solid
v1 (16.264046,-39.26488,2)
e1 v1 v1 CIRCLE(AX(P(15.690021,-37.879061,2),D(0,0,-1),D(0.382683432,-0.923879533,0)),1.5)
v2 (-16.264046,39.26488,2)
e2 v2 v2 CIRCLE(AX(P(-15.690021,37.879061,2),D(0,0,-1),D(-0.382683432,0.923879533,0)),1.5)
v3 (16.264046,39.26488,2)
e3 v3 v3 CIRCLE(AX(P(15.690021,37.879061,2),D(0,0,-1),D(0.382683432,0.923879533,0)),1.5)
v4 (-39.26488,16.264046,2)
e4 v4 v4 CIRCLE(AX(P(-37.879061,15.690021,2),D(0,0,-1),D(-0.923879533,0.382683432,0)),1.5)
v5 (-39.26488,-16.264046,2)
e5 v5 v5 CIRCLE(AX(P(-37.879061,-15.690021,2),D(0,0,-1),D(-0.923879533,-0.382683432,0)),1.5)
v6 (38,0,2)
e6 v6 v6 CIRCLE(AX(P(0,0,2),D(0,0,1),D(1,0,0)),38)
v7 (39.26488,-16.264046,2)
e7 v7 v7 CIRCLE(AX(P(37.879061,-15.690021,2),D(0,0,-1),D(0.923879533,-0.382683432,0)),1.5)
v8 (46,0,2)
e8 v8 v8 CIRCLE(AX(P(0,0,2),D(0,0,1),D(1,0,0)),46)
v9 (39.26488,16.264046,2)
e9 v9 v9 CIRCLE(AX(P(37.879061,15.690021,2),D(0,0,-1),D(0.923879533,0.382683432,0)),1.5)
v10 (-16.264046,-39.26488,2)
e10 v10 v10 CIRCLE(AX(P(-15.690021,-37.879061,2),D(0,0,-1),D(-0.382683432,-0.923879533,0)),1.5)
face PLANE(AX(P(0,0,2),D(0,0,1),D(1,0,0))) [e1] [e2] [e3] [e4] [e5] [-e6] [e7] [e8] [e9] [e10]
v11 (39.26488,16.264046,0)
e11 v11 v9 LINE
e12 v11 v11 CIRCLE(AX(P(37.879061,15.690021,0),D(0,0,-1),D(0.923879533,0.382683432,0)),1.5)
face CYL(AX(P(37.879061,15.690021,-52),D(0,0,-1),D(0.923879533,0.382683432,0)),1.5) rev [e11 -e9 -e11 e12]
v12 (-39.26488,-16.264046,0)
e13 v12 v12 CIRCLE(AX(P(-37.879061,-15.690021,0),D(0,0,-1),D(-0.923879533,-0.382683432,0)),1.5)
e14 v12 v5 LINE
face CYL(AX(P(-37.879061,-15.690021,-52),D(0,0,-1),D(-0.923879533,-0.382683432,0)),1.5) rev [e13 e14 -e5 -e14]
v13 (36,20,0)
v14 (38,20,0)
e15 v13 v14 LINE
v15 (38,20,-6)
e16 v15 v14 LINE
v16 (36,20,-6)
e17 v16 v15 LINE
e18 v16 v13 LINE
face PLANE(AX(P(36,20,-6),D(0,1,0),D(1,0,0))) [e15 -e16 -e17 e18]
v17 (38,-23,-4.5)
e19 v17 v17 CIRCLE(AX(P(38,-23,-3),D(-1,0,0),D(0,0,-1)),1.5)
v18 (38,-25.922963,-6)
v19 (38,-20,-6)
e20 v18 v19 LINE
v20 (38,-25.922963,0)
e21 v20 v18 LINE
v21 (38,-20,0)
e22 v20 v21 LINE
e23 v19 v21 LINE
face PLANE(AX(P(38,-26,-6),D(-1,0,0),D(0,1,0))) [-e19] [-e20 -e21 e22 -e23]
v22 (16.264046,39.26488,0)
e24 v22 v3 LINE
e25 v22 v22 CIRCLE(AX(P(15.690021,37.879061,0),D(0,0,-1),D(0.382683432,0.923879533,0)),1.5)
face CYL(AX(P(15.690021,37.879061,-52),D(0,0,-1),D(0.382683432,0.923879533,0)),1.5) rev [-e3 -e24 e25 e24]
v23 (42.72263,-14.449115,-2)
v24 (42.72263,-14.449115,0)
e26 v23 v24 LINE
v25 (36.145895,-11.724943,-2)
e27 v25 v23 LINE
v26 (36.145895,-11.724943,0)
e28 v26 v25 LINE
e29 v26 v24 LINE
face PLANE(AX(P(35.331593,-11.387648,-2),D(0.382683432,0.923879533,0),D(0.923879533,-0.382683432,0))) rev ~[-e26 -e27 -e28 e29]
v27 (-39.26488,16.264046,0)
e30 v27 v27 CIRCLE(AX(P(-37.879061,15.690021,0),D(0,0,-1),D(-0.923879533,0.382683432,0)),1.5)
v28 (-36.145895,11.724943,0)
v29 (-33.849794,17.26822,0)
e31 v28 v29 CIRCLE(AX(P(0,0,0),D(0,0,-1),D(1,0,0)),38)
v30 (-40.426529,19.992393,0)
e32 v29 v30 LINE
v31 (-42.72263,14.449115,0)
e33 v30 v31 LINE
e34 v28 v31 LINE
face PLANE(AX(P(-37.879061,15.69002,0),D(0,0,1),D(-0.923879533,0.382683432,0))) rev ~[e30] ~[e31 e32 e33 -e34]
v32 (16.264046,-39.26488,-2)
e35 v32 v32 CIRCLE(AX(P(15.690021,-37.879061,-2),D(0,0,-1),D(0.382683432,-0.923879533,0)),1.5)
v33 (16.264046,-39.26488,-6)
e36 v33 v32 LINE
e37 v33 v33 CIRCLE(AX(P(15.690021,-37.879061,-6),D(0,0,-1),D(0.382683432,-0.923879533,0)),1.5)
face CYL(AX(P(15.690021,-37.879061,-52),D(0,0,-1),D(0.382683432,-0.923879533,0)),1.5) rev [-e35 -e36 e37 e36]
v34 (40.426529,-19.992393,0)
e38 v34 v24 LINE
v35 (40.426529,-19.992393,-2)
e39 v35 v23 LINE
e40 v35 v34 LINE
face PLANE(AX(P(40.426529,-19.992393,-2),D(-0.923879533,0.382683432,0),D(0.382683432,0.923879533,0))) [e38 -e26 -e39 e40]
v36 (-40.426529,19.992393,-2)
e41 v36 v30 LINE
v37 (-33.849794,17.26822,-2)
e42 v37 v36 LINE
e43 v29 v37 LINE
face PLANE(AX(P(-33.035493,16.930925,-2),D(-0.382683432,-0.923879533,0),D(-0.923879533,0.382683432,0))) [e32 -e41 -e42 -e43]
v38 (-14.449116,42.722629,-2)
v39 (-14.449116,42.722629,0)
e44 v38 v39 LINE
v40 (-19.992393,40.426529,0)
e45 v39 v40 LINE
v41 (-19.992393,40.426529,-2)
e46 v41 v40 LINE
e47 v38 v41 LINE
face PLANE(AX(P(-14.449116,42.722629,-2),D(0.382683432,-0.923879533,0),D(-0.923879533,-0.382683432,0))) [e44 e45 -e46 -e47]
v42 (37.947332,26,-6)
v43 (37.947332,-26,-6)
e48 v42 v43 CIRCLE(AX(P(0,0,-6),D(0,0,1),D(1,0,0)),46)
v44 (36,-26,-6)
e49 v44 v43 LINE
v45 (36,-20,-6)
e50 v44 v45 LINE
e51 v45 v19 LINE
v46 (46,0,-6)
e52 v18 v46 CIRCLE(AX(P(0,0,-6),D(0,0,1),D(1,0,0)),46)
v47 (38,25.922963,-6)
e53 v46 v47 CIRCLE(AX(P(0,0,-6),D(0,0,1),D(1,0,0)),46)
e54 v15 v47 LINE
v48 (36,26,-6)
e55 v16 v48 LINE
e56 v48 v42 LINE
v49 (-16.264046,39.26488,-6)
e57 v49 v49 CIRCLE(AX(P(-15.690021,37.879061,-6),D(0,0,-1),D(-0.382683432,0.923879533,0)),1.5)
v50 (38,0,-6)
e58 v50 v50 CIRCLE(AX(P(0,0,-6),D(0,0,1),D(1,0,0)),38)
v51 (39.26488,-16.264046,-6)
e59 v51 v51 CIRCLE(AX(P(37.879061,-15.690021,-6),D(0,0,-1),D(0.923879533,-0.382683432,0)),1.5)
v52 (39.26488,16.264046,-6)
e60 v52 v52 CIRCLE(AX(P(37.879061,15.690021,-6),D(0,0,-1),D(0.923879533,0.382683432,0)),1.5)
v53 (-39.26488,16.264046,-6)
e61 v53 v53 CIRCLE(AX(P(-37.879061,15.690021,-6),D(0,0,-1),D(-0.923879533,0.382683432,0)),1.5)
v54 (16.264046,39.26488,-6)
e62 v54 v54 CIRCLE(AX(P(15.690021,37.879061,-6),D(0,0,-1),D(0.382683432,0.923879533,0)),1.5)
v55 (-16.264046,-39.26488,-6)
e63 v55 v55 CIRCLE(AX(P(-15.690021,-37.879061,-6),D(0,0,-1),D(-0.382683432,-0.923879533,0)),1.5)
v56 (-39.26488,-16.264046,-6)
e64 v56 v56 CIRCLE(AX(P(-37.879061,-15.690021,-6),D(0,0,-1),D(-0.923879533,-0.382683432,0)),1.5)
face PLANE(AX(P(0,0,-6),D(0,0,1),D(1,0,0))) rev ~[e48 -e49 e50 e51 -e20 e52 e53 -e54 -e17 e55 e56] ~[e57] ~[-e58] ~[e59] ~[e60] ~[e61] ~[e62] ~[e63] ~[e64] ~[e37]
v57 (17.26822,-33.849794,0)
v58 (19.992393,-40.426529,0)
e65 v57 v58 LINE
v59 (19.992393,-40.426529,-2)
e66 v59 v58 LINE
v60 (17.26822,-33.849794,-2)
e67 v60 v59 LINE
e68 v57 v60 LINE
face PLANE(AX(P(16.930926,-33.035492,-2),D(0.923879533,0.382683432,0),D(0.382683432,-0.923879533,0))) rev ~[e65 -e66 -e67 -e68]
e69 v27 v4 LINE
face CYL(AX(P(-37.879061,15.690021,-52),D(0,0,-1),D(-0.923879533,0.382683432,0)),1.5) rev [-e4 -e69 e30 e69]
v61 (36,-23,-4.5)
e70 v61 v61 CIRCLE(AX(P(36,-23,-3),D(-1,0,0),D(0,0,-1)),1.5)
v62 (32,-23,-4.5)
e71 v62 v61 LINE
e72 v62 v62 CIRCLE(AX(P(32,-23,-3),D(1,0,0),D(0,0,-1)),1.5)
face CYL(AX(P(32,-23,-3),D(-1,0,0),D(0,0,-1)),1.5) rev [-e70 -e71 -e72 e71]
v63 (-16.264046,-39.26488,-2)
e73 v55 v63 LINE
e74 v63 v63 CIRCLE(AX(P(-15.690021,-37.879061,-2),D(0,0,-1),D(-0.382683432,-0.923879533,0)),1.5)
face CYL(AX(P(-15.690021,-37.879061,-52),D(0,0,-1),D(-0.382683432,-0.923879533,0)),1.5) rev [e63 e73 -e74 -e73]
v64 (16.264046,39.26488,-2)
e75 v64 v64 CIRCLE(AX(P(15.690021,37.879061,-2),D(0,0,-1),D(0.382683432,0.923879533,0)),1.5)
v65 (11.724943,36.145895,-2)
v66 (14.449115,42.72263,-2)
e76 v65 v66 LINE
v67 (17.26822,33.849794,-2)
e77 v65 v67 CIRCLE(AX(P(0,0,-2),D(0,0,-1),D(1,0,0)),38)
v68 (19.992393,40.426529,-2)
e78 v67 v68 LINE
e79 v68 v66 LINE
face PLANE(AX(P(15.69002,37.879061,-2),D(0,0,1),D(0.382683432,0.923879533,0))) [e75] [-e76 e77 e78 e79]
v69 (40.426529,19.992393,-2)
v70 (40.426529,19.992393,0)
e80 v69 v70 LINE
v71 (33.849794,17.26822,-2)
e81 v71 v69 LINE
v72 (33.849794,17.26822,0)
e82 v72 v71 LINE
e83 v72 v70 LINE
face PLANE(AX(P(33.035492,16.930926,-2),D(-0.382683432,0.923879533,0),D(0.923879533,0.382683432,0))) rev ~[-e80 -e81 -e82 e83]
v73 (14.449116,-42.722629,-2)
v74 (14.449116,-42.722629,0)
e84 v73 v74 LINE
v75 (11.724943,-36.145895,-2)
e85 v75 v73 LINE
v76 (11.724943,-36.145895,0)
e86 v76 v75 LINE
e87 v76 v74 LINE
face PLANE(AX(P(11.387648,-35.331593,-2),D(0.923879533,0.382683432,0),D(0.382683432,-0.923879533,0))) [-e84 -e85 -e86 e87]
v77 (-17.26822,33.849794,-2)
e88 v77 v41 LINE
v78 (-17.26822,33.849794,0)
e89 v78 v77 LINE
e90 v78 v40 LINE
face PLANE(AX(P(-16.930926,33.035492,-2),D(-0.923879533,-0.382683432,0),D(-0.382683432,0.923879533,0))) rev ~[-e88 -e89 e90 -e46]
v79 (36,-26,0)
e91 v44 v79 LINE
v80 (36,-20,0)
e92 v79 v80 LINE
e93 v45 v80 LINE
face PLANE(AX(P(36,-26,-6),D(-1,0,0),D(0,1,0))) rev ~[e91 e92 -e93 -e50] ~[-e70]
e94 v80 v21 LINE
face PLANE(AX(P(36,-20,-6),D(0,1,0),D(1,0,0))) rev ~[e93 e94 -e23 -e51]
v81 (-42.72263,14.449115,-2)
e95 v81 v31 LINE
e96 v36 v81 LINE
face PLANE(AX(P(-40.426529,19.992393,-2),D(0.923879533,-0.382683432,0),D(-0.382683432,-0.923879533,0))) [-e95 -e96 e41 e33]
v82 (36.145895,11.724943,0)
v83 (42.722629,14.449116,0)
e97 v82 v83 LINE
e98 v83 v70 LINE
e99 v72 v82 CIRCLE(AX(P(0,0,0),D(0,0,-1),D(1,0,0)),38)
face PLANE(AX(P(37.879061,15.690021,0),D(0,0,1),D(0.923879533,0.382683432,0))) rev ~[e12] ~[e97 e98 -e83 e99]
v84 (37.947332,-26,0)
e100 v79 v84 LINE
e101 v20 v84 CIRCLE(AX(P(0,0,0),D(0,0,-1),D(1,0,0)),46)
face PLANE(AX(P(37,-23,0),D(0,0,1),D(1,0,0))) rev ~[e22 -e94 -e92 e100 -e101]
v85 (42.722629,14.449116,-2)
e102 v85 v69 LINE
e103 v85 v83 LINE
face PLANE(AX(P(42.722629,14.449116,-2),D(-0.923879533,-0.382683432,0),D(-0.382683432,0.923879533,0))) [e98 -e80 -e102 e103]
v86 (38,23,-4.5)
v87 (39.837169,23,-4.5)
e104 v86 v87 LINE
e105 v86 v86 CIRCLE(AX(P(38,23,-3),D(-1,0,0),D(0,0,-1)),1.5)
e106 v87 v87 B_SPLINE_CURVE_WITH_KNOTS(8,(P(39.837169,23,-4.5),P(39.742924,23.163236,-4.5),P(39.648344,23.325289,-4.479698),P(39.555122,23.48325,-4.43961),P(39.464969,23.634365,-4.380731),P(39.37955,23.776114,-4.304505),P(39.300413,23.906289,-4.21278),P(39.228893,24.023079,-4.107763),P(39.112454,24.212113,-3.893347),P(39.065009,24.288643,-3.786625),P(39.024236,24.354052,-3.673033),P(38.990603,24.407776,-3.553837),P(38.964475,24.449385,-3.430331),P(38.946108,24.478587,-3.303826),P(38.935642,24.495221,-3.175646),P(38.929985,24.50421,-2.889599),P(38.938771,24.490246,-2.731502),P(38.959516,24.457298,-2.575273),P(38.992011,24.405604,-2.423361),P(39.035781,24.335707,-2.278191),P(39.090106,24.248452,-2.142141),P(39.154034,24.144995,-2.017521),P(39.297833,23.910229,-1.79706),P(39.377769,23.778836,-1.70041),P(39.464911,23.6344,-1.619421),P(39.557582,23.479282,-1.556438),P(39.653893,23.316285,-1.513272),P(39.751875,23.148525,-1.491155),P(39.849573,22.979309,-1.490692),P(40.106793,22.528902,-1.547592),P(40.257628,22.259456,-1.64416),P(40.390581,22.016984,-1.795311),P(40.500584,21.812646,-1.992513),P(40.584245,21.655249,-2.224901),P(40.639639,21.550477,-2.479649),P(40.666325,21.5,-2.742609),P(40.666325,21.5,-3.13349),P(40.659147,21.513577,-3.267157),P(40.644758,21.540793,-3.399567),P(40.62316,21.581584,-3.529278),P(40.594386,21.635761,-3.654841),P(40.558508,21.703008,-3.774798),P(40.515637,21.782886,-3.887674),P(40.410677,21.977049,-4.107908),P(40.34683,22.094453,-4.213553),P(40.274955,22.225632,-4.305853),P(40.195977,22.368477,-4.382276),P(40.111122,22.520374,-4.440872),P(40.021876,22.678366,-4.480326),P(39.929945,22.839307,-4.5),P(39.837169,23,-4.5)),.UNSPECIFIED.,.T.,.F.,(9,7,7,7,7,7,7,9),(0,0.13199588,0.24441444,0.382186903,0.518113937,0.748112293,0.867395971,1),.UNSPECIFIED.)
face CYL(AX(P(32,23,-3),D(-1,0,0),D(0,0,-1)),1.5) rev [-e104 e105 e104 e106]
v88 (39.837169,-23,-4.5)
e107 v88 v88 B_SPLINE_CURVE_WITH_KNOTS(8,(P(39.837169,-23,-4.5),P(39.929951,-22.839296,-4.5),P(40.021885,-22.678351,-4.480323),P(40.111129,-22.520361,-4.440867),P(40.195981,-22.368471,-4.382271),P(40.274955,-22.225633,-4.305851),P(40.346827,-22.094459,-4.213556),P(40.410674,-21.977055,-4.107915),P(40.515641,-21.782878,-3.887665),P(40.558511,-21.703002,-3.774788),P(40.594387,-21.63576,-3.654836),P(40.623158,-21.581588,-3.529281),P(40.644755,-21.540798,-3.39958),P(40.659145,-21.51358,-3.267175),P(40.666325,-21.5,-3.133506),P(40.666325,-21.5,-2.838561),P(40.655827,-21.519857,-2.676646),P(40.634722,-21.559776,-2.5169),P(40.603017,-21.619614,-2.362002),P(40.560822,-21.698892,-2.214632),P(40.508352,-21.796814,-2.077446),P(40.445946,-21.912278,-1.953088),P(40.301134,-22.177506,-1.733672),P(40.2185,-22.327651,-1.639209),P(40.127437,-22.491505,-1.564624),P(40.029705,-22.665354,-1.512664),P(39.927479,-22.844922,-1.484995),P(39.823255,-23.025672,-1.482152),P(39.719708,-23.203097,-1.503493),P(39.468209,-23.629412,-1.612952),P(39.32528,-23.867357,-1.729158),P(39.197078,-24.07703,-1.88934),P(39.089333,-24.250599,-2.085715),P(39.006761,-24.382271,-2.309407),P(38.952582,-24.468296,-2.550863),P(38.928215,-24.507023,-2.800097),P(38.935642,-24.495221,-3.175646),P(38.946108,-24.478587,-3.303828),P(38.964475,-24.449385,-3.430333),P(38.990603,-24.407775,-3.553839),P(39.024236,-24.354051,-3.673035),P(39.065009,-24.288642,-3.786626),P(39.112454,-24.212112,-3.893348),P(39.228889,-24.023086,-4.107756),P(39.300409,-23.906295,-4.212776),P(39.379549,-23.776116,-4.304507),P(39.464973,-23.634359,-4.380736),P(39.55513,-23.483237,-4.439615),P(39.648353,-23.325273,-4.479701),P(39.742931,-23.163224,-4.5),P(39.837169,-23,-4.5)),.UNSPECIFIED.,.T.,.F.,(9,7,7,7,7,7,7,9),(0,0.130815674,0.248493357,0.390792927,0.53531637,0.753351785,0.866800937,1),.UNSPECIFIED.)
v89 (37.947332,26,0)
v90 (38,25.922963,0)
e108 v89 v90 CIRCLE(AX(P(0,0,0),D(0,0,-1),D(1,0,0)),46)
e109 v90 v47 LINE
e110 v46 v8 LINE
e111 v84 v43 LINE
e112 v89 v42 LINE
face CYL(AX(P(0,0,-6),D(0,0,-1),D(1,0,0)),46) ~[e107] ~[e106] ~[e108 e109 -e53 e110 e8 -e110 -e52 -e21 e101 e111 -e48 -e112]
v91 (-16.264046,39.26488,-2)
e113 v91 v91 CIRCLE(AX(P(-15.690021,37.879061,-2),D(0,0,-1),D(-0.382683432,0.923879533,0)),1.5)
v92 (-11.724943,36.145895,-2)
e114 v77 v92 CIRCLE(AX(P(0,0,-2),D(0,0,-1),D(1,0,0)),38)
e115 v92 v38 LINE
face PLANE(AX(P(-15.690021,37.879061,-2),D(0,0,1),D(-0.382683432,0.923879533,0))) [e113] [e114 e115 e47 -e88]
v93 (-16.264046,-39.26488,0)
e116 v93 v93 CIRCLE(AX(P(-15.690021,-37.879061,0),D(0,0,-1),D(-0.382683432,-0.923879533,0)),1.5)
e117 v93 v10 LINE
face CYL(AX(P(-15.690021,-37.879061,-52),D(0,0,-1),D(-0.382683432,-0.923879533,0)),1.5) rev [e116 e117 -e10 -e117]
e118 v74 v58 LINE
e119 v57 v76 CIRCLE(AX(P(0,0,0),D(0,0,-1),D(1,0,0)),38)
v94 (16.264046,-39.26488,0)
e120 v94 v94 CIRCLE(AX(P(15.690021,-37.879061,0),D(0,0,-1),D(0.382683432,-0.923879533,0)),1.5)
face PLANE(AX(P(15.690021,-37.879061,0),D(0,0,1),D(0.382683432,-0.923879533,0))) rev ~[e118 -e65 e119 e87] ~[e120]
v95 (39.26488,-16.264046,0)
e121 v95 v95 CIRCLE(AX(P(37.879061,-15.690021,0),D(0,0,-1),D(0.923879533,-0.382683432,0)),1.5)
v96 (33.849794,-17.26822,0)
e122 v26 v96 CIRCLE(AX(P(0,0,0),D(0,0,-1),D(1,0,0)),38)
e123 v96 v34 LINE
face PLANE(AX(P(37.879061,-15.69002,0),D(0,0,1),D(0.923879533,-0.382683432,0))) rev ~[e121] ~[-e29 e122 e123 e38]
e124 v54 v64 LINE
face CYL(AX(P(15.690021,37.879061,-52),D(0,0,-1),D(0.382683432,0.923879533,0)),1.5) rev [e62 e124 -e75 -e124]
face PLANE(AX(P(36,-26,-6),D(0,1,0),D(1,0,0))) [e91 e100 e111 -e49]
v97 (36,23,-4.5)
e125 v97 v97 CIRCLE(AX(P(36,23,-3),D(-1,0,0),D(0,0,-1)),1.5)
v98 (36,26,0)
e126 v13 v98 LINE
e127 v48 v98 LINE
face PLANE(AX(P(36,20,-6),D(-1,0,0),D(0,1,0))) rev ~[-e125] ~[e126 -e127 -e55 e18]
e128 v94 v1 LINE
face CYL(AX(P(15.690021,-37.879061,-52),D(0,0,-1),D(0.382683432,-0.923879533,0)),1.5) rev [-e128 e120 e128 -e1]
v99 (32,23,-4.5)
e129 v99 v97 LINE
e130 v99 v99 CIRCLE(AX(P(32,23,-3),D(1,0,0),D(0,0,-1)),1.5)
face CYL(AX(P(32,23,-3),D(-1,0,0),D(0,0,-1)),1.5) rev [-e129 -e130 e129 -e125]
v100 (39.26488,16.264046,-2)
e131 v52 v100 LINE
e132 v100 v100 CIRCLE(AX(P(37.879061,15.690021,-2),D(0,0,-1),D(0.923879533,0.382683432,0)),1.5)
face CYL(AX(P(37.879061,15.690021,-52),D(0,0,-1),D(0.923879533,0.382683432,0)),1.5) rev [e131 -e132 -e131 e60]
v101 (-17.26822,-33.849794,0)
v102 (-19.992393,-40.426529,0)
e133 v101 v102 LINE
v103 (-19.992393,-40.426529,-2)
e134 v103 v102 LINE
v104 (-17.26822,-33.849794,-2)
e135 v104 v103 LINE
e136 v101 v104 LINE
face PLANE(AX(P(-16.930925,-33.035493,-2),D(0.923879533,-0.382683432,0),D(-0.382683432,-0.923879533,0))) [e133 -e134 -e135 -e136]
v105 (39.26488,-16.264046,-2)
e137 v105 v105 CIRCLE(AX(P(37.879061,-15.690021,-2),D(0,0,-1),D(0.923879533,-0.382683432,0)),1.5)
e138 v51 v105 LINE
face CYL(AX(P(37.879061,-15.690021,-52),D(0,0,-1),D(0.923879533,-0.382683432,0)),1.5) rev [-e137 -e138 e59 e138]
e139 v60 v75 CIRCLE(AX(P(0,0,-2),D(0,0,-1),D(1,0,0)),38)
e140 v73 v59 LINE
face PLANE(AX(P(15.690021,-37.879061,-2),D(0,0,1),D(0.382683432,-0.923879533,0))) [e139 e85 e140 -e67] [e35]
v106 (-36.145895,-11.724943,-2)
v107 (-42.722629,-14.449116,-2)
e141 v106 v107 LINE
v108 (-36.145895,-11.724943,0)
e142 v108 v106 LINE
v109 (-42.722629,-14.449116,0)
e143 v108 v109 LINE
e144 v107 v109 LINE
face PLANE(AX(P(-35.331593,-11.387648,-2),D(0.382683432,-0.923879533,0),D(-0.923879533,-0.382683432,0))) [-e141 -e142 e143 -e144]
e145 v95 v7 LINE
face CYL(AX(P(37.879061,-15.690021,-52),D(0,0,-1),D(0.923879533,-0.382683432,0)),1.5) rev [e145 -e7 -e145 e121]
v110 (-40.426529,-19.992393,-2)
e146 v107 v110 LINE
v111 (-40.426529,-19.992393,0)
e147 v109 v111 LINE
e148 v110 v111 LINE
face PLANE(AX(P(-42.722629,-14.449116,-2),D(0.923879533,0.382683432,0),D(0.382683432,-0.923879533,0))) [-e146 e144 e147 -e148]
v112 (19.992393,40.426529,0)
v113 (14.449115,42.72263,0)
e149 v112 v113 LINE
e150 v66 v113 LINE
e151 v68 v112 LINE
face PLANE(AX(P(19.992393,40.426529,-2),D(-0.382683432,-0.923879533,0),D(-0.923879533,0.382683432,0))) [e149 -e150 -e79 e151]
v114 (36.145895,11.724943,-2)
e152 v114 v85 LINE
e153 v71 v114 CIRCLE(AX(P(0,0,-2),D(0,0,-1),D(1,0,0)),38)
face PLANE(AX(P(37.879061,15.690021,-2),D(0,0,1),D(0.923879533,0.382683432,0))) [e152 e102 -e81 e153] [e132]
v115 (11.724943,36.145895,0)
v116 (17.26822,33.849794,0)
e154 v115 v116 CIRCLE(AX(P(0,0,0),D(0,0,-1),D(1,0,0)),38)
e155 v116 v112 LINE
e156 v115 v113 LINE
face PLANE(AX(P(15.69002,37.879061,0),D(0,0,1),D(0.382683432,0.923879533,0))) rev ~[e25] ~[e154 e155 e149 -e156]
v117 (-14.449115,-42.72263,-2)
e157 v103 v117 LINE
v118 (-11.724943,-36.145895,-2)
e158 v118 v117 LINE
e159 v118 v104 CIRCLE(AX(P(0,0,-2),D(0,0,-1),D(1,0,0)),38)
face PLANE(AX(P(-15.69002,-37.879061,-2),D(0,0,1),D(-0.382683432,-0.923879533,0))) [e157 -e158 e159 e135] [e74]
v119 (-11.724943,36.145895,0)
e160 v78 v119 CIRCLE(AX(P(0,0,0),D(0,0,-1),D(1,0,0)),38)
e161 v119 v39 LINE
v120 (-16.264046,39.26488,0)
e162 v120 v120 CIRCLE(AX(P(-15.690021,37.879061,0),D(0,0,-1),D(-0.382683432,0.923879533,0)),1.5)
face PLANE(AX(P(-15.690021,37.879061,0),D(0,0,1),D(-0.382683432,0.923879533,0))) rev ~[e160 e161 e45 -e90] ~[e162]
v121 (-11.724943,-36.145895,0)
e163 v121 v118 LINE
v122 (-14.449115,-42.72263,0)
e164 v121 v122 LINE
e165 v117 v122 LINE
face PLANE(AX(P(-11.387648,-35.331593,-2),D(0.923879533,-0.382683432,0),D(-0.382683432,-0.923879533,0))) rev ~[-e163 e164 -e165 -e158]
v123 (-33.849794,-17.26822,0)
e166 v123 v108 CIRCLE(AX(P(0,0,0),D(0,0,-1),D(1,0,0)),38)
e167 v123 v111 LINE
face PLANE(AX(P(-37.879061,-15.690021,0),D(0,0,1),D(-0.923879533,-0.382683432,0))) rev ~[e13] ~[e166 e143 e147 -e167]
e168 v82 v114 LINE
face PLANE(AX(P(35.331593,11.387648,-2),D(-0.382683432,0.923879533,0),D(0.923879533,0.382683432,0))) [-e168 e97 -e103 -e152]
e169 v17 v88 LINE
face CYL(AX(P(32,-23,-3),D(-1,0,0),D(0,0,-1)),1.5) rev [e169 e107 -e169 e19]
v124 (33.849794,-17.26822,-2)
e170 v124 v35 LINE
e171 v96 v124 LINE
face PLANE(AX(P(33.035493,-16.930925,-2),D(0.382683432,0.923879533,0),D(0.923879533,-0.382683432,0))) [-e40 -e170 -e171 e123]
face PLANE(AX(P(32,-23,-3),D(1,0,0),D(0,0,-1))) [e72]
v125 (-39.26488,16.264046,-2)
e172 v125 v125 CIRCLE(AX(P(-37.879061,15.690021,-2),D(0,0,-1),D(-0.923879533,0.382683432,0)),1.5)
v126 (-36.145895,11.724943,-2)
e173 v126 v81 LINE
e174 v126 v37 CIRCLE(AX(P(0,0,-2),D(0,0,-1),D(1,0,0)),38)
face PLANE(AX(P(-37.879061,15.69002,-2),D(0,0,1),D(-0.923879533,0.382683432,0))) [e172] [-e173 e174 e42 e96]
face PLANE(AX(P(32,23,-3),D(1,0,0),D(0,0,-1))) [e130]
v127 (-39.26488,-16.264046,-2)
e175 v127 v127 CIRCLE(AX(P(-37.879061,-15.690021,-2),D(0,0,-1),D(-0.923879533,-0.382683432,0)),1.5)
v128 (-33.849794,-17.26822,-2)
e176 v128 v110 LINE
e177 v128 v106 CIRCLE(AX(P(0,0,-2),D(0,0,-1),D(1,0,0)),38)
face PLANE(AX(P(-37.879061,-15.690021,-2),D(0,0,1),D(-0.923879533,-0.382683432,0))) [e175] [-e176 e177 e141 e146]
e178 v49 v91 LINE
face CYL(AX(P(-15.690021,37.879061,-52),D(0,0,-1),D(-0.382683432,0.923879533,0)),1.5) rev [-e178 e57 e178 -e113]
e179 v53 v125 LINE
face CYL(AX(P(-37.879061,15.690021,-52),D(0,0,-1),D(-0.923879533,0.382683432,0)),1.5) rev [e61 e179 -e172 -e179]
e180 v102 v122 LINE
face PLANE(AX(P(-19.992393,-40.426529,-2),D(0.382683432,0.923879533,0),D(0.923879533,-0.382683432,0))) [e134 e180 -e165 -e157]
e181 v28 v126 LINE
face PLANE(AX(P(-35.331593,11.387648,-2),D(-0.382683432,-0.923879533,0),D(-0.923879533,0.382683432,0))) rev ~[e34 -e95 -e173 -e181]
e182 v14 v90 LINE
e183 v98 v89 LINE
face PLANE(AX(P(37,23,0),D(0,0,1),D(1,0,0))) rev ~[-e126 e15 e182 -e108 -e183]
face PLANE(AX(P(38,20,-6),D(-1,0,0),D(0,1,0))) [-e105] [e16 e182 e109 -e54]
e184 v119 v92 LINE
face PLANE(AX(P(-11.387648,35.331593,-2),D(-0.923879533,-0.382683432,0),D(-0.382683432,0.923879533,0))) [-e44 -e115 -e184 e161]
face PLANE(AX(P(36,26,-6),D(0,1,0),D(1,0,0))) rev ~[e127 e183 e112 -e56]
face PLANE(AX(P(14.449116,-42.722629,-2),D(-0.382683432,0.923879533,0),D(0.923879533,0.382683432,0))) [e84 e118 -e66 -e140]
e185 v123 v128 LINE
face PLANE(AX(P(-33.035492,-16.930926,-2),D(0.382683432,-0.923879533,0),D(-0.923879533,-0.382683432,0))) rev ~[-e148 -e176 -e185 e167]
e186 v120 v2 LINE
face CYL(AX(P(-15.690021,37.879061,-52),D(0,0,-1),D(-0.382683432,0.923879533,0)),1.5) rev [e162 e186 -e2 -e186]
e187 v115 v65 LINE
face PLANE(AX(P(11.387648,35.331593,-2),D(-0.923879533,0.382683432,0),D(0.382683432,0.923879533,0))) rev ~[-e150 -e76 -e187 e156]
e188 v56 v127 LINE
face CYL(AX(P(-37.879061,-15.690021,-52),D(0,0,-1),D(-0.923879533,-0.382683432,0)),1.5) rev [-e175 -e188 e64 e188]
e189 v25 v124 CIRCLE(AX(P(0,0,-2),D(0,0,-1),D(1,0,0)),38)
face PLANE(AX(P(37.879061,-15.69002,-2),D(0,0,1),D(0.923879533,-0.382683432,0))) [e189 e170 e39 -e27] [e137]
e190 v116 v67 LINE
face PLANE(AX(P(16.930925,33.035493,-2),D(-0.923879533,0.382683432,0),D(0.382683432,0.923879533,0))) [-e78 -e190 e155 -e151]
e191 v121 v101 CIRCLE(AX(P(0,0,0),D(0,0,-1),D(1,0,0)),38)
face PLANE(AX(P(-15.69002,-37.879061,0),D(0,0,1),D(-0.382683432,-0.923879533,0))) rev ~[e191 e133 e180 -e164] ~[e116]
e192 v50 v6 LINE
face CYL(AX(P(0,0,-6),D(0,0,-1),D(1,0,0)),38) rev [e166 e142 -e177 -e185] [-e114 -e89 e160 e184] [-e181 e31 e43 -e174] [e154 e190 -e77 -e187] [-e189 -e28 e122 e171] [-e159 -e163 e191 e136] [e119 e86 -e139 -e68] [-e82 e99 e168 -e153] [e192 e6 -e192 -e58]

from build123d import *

# Parameters (mm, degrees)
CYLINDER1274_R               = 1.5
CYLINDER1274_DEPTH           = 60
CYLINDER1276_R               = 1.5
CYLINDER1276_DEPTH           = 60
CYLINDER1273_R               = 1.5
CYLINDER1273_DEPTH           = 60
CYLINDER1275_R               = 1.5
CYLINDER1275_DEPTH           = 60
BOX543_W                     = 2
BOX543_H                     = 6
BOX543_DEPTH                 = 6
BOX542_W                     = 2
BOX542_H                     = 6
BOX542_DEPTH                 = 6
BOX541_W                     = 2
BOX541_H                     = 6
BOX541_DEPTH                 = 6
BOX540_W                     = 2
BOX540_H                     = 6
BOX540_DEPTH                 = 6
BOX533_W                     = 8
BOX533_H                     = 6
BOX533_DEPTH                 = 2
BOX539_W                     = 8
BOX539_H                     = 6
BOX539_DEPTH                 = 2
BOX539_PLACEMENT_ANGLE       = 135
BOX534_W                     = 8
BOX534_H                     = 6
BOX534_DEPTH                 = 2
BOX536_W                     = 8
BOX536_H                     = 6
BOX536_DEPTH                 = 2
BOX536_PLACEMENT_ANGLE       = 225
BOX537_W                     = 8
BOX537_H                     = 6
BOX537_DEPTH                 = 2
BOX538_W                     = 8
BOX538_H                     = 6
BOX538_DEPTH                 = 2
BOX538_PLACEMENT_ANGLE       = 45
BOX532_W                     = 8
BOX532_H                     = 6
BOX532_DEPTH                 = 2
BOX535_W                     = 8
BOX535_H                     = 6
BOX535_DEPTH                 = 2
BOX535_PLACEMENT_ANGLE       = 45
COMPOUND921_PLACEMENT_ANGLE  = 22.5
CYLINDER1272_R               = 1.5
CYLINDER1272_DEPTH           = 60
CYLINDER1271_R               = 1.5
CYLINDER1271_DEPTH           = 60
CYLINDER1271_PLACEMENT_ANGLE = 135
CYLINDER1266_R               = 1.5
CYLINDER1266_DEPTH           = 60
CYLINDER1267_R               = 1.5
CYLINDER1267_DEPTH           = 60
CYLINDER1267_PLACEMENT_ANGLE = 225
CYLINDER1270_R               = 1.5
CYLINDER1270_DEPTH           = 60
CYLINDER1268_R               = 1.5
CYLINDER1268_DEPTH           = 60
CYLINDER1268_PLACEMENT_ANGLE = 45
CYLINDER1265_R               = 1.5
CYLINDER1265_DEPTH           = 60
CYLINDER1269_R               = 1.5
CYLINDER1269_DEPTH           = 60
CYLINDER1269_PLACEMENT_ANGLE = 45
COMPOUND919_PLACEMENT_ANGLE  = 22.5
TUBE112_R                    = 46
TUBE112_R_2                  = 38
TUBE112_DEPTH                = 8


with BuildPart() as v_lec1274:
    # Cylinder1274 → Cylinder1274 (new body)
    with BuildSketch(Plane(origin=(32, -23, -5), x_dir=(0, 0, -1), z_dir=(1, 0, 0))):
        Circle(CYLINDER1274_R)
    extrude(amount=CYLINDER1274_DEPTH)


with BuildPart() as v_lec1276:
    # Cylinder1276 → Cylinder1276 (new body)
    with BuildSketch(Plane(origin=(28, 51, 7), x_dir=(0, 0, -1), z_dir=(1, 0, 0))):
        Circle(CYLINDER1276_R)
    extrude(amount=CYLINDER1276_DEPTH)


with BuildPart() as v_lec1273:
    # Cylinder1273 → Cylinder1273 (new body)
    with BuildSketch(Plane(origin=(28, -51, 7), x_dir=(0, 0, -1), z_dir=(1, 0, 0))):
        Circle(CYLINDER1273_R)
    extrude(amount=CYLINDER1273_DEPTH)


with BuildPart() as compound920:
    # Cylinder1275 → Cylinder1275 (new body)
    with BuildSketch(Plane(origin=(32, 23, -5), x_dir=(0, 0, -1), z_dir=(1, 0, 0))):
        Circle(CYLINDER1275_R)
    extrude(amount=CYLINDER1275_DEPTH)

    # Compound920: union Válec1274, Válec1276, Válec1273
    add(v_lec1274.part)
    add(v_lec1276.part)
    add(v_lec1273.part)


with BuildPart() as krychle543:
    # Box543 → Box543 (new body)
    with BuildSketch(Plane(origin=(36, -26, -8), x_dir=(1, 0, 0), z_dir=(0, 0, 1))):
        with Locations((1, 3)):
            Rectangle(BOX543_W, BOX543_H)
    extrude(amount=BOX543_DEPTH)


with BuildPart() as krychle542:
    # Box542 → Box542 (new body)
    with BuildSketch(Plane(origin=(32, 48, 4), x_dir=(1, 0, 0), z_dir=(0, 0, 1))):
        with Locations((1, 3)):
            Rectangle(BOX542_W, BOX542_H)
    extrude(amount=BOX542_DEPTH)


with BuildPart() as krychle541:
    # Box541 → Box541 (new body)
    with BuildSketch(Plane(origin=(32, -54, 4), x_dir=(1, 0, 0), z_dir=(0, 0, 1))):
        with Locations((1, 3)):
            Rectangle(BOX541_W, BOX541_H)
    extrude(amount=BOX541_DEPTH)


with BuildPart() as compound922:
    # Box540 → Box540 (new body)
    with BuildSketch(Plane(origin=(36, 20, -8), x_dir=(1, 0, 0), z_dir=(0, 0, 1))):
        with Locations((1, 3)):
            Rectangle(BOX540_W, BOX540_H)
    extrude(amount=BOX540_DEPTH)

    # Compound922: union Krychle543, Krychle542, Krychle541
    add(krychle543.part)
    add(krychle542.part)
    add(krychle541.part)


with BuildPart() as krychle533:
    # Box533 → Box533 (new body)
    with BuildSketch(Plane(origin=(3, 37, -4), x_dir=(0, 1, 0), z_dir=(0, 0, 1))):
        with Locations((4, 3)):
            Rectangle(BOX533_W, BOX533_H)
    extrude(amount=BOX533_DEPTH)


with BuildPart() as krychle539:
    # Box539 → Box539 (new body)
    with BuildSketch(Plane.XY):
        with Locations((4, 3)):
            Rectangle(BOX539_W, BOX539_H)
    extrude(amount=BOX539_DEPTH)


with BuildPart() as krychle539_1:
    # Box539 placement: moved
    add(krychle539.part.moved(Location((-24.041631, 28.284271, -4))).rotate(Axis((-24.041631, 28.284271, -4), (0, 0, 1)), BOX539_PLACEMENT_ANGLE))


with BuildPart() as krychle534:
    # Box534 → Box534 (new body)
    with BuildSketch(Plane(origin=(-37, 3, -4), x_dir=(-1, 0, 0), z_dir=(0, 0, 1))):
        with Locations((4, 3)):
            Rectangle(BOX534_W, BOX534_H)
    extrude(amount=BOX534_DEPTH)


with BuildPart() as krychle536:
    # Box536 → Box536 (new body)
    with BuildSketch(Plane.XY):
        with Locations((4, 3)):
            Rectangle(BOX536_W, BOX536_H)
    extrude(amount=BOX536_DEPTH)


with BuildPart() as krychle536_1:
    # Box536 placement: moved
    add(krychle536.part.moved(Location((-28.284271, -24.041631, -4))).rotate(Axis((-28.284271, -24.041631, -4), (0, 0, 1)), BOX536_PLACEMENT_ANGLE))


with BuildPart() as krychle537:
    # Box537 → Box537 (new body)
    with BuildSketch(Plane(origin=(-3, -37, -4), x_dir=(0, -1, 0), z_dir=(0, 0, 1))):
        with Locations((4, 3)):
            Rectangle(BOX537_W, BOX537_H)
    extrude(amount=BOX537_DEPTH)


with BuildPart() as krychle538:
    # Box538 → Box538 (new body)
    with BuildSketch(Plane.XY):
        with Locations((4, 3)):
            Rectangle(BOX538_W, BOX538_H)
    extrude(amount=BOX538_DEPTH)


with BuildPart() as krychle538_1:
    # Box538 placement: moved
    add(krychle538.part.moved(Location((24.041631, -28.284271, -4))).rotate(Axis((24.041631, -28.284271, -4), (0, 0, -1)), BOX538_PLACEMENT_ANGLE))


with BuildPart() as krychle532:
    # Box532 → Box532 (new body)
    with BuildSketch(Plane(origin=(37, -3, -4), x_dir=(1, 0, 0), z_dir=(0, 0, 1))):
        with Locations((4, 3)):
            Rectangle(BOX532_W, BOX532_H)
    extrude(amount=BOX532_DEPTH)


with BuildPart() as compound921:
    # Box535 → Box535 (new body)
    with BuildSketch(Plane.XY):
        with Locations((4, 3)):
            Rectangle(BOX535_W, BOX535_H)
    extrude(amount=BOX535_DEPTH)


with BuildPart() as compound921_1:
    # Box535 placement: moved
    add(compound921.part.moved(Location((28.284271, 24.041631, -4))).rotate(Axis((28.284271, 24.041631, -4), (0, 0, 1)), BOX535_PLACEMENT_ANGLE))

    # Compound921: union Krychle533, Krychle539, Krychle534, Krychle536, Krychle537, Krychle538, Krychle532
    add(krychle533.part)
    add(krychle539_1.part)
    add(krychle534.part)
    add(krychle536_1.part)
    add(krychle537.part)
    add(krychle538_1.part)
    add(krychle532.part)


with BuildPart() as compound921_2:
    # Compound921 placement: moved
    add(compound921_1.part.rotate(Axis((0, 0, 0), (0, 0, 1)), COMPOUND921_PLACEMENT_ANGLE))


with BuildPart() as v_lec1272:
    # Cylinder1272 → Cylinder1272 (new body)
    with BuildSketch(Plane(origin=(0, 41, -54), x_dir=(0, 1, 0), z_dir=(0, 0, 1))):
        Circle(CYLINDER1272_R)
    extrude(amount=CYLINDER1272_DEPTH)


with BuildPart() as v_lec1271:
    # Cylinder1271 → Cylinder1271 (new body)
    with BuildSketch(Plane.XY):
        Circle(CYLINDER1271_R)
    extrude(amount=CYLINDER1271_DEPTH)


with BuildPart() as v_lec1271_1:
    # Cylinder1271 placement: moved
    add(v_lec1271.part.moved(Location((-28.991378, 28.991378, -54))).rotate(Axis((-28.991378, 28.991378, -54), (0, 0, 1)), CYLINDER1271_PLACEMENT_ANGLE))


with BuildPart() as v_lec1266:
    # Cylinder1266 → Cylinder1266 (new body)
    with BuildSketch(Plane(origin=(-41, 0, -54), x_dir=(-1, 0, 0), z_dir=(0, 0, 1))):
        Circle(CYLINDER1266_R)
    extrude(amount=CYLINDER1266_DEPTH)


with BuildPart() as v_lec1267:
    # Cylinder1267 → Cylinder1267 (new body)
    with BuildSketch(Plane.XY):
        Circle(CYLINDER1267_R)
    extrude(amount=CYLINDER1267_DEPTH)


with BuildPart() as v_lec1267_1:
    # Cylinder1267 placement: moved
    add(v_lec1267.part.moved(Location((-28.991378, -28.991378, -54))).rotate(Axis((-28.991378, -28.991378, -54), (0, 0, 1)), CYLINDER1267_PLACEMENT_ANGLE))


with BuildPart() as v_lec1270:
    # Cylinder1270 → Cylinder1270 (new body)
    with BuildSketch(Plane(origin=(0, -41, -54), x_dir=(0, -1, 0), z_dir=(0, 0, 1))):
        Circle(CYLINDER1270_R)
    extrude(amount=CYLINDER1270_DEPTH)


with BuildPart() as v_lec1268:
    # Cylinder1268 → Cylinder1268 (new body)
    with BuildSketch(Plane.XY):
        Circle(CYLINDER1268_R)
    extrude(amount=CYLINDER1268_DEPTH)


with BuildPart() as v_lec1268_1:
    # Cylinder1268 placement: moved
    add(v_lec1268.part.moved(Location((28.991378, -28.991378, -54))).rotate(Axis((28.991378, -28.991378, -54), (0, 0, -1)), CYLINDER1268_PLACEMENT_ANGLE))


with BuildPart() as v_lec1265:
    # Cylinder1265 → Cylinder1265 (new body)
    with BuildSketch(Plane(origin=(41, 0, -54), x_dir=(1, 0, 0), z_dir=(0, 0, 1))):
        Circle(CYLINDER1265_R)
    extrude(amount=CYLINDER1265_DEPTH)


with BuildPart() as compound919:
    # Cylinder1269 → Cylinder1269 (new body)
    with BuildSketch(Plane.XY):
        Circle(CYLINDER1269_R)
    extrude(amount=CYLINDER1269_DEPTH)


with BuildPart() as compound919_1:
    # Cylinder1269 placement: moved
    add(compound919.part.moved(Location((28.991378, 28.991378, -54))).rotate(Axis((28.991378, 28.991378, -54), (0, 0, 1)), CYLINDER1269_PLACEMENT_ANGLE))

    # Compound919: union Válec1272, Válec1271, Válec1266, Válec1267, Válec1270, Válec1268, Válec1265
    add(v_lec1272.part)
    add(v_lec1271_1.part)
    add(v_lec1266.part)
    add(v_lec1267_1.part)
    add(v_lec1270.part)
    add(v_lec1268_1.part)
    add(v_lec1265.part)


with BuildPart() as compound919_2:
    # Compound919 placement: moved
    add(compound919_1.part.rotate(Axis((0, 0, 0), (0, 0, 1)), COMPOUND919_PLACEMENT_ANGLE))


with BuildPart() as cut464:
    # Tube112 → Tube112 (new body)
    with BuildSketch(Plane.XY.offset(-8)):
        Circle(TUBE112_R)
        Circle(TUBE112_R_2, mode=Mode.SUBTRACT)
    extrude(amount=TUBE112_DEPTH)

    # Cut461: cut Compound919
    add(compound919_2.part, mode=Mode.SUBTRACT)

    # Cut462: cut Compound921
    add(compound921_2.part, mode=Mode.SUBTRACT)

    # Cut463: cut Compound922
    add(compound922.part, mode=Mode.SUBTRACT)

    # Cut464: cut Compound920
    add(compound920.part, mode=Mode.SUBTRACT)


with BuildPart() as cut464_1:
    # Cut464 placement: moved
    add(cut464.part.moved(Location((0, 0, 2))))


solid = cut464_1.part
